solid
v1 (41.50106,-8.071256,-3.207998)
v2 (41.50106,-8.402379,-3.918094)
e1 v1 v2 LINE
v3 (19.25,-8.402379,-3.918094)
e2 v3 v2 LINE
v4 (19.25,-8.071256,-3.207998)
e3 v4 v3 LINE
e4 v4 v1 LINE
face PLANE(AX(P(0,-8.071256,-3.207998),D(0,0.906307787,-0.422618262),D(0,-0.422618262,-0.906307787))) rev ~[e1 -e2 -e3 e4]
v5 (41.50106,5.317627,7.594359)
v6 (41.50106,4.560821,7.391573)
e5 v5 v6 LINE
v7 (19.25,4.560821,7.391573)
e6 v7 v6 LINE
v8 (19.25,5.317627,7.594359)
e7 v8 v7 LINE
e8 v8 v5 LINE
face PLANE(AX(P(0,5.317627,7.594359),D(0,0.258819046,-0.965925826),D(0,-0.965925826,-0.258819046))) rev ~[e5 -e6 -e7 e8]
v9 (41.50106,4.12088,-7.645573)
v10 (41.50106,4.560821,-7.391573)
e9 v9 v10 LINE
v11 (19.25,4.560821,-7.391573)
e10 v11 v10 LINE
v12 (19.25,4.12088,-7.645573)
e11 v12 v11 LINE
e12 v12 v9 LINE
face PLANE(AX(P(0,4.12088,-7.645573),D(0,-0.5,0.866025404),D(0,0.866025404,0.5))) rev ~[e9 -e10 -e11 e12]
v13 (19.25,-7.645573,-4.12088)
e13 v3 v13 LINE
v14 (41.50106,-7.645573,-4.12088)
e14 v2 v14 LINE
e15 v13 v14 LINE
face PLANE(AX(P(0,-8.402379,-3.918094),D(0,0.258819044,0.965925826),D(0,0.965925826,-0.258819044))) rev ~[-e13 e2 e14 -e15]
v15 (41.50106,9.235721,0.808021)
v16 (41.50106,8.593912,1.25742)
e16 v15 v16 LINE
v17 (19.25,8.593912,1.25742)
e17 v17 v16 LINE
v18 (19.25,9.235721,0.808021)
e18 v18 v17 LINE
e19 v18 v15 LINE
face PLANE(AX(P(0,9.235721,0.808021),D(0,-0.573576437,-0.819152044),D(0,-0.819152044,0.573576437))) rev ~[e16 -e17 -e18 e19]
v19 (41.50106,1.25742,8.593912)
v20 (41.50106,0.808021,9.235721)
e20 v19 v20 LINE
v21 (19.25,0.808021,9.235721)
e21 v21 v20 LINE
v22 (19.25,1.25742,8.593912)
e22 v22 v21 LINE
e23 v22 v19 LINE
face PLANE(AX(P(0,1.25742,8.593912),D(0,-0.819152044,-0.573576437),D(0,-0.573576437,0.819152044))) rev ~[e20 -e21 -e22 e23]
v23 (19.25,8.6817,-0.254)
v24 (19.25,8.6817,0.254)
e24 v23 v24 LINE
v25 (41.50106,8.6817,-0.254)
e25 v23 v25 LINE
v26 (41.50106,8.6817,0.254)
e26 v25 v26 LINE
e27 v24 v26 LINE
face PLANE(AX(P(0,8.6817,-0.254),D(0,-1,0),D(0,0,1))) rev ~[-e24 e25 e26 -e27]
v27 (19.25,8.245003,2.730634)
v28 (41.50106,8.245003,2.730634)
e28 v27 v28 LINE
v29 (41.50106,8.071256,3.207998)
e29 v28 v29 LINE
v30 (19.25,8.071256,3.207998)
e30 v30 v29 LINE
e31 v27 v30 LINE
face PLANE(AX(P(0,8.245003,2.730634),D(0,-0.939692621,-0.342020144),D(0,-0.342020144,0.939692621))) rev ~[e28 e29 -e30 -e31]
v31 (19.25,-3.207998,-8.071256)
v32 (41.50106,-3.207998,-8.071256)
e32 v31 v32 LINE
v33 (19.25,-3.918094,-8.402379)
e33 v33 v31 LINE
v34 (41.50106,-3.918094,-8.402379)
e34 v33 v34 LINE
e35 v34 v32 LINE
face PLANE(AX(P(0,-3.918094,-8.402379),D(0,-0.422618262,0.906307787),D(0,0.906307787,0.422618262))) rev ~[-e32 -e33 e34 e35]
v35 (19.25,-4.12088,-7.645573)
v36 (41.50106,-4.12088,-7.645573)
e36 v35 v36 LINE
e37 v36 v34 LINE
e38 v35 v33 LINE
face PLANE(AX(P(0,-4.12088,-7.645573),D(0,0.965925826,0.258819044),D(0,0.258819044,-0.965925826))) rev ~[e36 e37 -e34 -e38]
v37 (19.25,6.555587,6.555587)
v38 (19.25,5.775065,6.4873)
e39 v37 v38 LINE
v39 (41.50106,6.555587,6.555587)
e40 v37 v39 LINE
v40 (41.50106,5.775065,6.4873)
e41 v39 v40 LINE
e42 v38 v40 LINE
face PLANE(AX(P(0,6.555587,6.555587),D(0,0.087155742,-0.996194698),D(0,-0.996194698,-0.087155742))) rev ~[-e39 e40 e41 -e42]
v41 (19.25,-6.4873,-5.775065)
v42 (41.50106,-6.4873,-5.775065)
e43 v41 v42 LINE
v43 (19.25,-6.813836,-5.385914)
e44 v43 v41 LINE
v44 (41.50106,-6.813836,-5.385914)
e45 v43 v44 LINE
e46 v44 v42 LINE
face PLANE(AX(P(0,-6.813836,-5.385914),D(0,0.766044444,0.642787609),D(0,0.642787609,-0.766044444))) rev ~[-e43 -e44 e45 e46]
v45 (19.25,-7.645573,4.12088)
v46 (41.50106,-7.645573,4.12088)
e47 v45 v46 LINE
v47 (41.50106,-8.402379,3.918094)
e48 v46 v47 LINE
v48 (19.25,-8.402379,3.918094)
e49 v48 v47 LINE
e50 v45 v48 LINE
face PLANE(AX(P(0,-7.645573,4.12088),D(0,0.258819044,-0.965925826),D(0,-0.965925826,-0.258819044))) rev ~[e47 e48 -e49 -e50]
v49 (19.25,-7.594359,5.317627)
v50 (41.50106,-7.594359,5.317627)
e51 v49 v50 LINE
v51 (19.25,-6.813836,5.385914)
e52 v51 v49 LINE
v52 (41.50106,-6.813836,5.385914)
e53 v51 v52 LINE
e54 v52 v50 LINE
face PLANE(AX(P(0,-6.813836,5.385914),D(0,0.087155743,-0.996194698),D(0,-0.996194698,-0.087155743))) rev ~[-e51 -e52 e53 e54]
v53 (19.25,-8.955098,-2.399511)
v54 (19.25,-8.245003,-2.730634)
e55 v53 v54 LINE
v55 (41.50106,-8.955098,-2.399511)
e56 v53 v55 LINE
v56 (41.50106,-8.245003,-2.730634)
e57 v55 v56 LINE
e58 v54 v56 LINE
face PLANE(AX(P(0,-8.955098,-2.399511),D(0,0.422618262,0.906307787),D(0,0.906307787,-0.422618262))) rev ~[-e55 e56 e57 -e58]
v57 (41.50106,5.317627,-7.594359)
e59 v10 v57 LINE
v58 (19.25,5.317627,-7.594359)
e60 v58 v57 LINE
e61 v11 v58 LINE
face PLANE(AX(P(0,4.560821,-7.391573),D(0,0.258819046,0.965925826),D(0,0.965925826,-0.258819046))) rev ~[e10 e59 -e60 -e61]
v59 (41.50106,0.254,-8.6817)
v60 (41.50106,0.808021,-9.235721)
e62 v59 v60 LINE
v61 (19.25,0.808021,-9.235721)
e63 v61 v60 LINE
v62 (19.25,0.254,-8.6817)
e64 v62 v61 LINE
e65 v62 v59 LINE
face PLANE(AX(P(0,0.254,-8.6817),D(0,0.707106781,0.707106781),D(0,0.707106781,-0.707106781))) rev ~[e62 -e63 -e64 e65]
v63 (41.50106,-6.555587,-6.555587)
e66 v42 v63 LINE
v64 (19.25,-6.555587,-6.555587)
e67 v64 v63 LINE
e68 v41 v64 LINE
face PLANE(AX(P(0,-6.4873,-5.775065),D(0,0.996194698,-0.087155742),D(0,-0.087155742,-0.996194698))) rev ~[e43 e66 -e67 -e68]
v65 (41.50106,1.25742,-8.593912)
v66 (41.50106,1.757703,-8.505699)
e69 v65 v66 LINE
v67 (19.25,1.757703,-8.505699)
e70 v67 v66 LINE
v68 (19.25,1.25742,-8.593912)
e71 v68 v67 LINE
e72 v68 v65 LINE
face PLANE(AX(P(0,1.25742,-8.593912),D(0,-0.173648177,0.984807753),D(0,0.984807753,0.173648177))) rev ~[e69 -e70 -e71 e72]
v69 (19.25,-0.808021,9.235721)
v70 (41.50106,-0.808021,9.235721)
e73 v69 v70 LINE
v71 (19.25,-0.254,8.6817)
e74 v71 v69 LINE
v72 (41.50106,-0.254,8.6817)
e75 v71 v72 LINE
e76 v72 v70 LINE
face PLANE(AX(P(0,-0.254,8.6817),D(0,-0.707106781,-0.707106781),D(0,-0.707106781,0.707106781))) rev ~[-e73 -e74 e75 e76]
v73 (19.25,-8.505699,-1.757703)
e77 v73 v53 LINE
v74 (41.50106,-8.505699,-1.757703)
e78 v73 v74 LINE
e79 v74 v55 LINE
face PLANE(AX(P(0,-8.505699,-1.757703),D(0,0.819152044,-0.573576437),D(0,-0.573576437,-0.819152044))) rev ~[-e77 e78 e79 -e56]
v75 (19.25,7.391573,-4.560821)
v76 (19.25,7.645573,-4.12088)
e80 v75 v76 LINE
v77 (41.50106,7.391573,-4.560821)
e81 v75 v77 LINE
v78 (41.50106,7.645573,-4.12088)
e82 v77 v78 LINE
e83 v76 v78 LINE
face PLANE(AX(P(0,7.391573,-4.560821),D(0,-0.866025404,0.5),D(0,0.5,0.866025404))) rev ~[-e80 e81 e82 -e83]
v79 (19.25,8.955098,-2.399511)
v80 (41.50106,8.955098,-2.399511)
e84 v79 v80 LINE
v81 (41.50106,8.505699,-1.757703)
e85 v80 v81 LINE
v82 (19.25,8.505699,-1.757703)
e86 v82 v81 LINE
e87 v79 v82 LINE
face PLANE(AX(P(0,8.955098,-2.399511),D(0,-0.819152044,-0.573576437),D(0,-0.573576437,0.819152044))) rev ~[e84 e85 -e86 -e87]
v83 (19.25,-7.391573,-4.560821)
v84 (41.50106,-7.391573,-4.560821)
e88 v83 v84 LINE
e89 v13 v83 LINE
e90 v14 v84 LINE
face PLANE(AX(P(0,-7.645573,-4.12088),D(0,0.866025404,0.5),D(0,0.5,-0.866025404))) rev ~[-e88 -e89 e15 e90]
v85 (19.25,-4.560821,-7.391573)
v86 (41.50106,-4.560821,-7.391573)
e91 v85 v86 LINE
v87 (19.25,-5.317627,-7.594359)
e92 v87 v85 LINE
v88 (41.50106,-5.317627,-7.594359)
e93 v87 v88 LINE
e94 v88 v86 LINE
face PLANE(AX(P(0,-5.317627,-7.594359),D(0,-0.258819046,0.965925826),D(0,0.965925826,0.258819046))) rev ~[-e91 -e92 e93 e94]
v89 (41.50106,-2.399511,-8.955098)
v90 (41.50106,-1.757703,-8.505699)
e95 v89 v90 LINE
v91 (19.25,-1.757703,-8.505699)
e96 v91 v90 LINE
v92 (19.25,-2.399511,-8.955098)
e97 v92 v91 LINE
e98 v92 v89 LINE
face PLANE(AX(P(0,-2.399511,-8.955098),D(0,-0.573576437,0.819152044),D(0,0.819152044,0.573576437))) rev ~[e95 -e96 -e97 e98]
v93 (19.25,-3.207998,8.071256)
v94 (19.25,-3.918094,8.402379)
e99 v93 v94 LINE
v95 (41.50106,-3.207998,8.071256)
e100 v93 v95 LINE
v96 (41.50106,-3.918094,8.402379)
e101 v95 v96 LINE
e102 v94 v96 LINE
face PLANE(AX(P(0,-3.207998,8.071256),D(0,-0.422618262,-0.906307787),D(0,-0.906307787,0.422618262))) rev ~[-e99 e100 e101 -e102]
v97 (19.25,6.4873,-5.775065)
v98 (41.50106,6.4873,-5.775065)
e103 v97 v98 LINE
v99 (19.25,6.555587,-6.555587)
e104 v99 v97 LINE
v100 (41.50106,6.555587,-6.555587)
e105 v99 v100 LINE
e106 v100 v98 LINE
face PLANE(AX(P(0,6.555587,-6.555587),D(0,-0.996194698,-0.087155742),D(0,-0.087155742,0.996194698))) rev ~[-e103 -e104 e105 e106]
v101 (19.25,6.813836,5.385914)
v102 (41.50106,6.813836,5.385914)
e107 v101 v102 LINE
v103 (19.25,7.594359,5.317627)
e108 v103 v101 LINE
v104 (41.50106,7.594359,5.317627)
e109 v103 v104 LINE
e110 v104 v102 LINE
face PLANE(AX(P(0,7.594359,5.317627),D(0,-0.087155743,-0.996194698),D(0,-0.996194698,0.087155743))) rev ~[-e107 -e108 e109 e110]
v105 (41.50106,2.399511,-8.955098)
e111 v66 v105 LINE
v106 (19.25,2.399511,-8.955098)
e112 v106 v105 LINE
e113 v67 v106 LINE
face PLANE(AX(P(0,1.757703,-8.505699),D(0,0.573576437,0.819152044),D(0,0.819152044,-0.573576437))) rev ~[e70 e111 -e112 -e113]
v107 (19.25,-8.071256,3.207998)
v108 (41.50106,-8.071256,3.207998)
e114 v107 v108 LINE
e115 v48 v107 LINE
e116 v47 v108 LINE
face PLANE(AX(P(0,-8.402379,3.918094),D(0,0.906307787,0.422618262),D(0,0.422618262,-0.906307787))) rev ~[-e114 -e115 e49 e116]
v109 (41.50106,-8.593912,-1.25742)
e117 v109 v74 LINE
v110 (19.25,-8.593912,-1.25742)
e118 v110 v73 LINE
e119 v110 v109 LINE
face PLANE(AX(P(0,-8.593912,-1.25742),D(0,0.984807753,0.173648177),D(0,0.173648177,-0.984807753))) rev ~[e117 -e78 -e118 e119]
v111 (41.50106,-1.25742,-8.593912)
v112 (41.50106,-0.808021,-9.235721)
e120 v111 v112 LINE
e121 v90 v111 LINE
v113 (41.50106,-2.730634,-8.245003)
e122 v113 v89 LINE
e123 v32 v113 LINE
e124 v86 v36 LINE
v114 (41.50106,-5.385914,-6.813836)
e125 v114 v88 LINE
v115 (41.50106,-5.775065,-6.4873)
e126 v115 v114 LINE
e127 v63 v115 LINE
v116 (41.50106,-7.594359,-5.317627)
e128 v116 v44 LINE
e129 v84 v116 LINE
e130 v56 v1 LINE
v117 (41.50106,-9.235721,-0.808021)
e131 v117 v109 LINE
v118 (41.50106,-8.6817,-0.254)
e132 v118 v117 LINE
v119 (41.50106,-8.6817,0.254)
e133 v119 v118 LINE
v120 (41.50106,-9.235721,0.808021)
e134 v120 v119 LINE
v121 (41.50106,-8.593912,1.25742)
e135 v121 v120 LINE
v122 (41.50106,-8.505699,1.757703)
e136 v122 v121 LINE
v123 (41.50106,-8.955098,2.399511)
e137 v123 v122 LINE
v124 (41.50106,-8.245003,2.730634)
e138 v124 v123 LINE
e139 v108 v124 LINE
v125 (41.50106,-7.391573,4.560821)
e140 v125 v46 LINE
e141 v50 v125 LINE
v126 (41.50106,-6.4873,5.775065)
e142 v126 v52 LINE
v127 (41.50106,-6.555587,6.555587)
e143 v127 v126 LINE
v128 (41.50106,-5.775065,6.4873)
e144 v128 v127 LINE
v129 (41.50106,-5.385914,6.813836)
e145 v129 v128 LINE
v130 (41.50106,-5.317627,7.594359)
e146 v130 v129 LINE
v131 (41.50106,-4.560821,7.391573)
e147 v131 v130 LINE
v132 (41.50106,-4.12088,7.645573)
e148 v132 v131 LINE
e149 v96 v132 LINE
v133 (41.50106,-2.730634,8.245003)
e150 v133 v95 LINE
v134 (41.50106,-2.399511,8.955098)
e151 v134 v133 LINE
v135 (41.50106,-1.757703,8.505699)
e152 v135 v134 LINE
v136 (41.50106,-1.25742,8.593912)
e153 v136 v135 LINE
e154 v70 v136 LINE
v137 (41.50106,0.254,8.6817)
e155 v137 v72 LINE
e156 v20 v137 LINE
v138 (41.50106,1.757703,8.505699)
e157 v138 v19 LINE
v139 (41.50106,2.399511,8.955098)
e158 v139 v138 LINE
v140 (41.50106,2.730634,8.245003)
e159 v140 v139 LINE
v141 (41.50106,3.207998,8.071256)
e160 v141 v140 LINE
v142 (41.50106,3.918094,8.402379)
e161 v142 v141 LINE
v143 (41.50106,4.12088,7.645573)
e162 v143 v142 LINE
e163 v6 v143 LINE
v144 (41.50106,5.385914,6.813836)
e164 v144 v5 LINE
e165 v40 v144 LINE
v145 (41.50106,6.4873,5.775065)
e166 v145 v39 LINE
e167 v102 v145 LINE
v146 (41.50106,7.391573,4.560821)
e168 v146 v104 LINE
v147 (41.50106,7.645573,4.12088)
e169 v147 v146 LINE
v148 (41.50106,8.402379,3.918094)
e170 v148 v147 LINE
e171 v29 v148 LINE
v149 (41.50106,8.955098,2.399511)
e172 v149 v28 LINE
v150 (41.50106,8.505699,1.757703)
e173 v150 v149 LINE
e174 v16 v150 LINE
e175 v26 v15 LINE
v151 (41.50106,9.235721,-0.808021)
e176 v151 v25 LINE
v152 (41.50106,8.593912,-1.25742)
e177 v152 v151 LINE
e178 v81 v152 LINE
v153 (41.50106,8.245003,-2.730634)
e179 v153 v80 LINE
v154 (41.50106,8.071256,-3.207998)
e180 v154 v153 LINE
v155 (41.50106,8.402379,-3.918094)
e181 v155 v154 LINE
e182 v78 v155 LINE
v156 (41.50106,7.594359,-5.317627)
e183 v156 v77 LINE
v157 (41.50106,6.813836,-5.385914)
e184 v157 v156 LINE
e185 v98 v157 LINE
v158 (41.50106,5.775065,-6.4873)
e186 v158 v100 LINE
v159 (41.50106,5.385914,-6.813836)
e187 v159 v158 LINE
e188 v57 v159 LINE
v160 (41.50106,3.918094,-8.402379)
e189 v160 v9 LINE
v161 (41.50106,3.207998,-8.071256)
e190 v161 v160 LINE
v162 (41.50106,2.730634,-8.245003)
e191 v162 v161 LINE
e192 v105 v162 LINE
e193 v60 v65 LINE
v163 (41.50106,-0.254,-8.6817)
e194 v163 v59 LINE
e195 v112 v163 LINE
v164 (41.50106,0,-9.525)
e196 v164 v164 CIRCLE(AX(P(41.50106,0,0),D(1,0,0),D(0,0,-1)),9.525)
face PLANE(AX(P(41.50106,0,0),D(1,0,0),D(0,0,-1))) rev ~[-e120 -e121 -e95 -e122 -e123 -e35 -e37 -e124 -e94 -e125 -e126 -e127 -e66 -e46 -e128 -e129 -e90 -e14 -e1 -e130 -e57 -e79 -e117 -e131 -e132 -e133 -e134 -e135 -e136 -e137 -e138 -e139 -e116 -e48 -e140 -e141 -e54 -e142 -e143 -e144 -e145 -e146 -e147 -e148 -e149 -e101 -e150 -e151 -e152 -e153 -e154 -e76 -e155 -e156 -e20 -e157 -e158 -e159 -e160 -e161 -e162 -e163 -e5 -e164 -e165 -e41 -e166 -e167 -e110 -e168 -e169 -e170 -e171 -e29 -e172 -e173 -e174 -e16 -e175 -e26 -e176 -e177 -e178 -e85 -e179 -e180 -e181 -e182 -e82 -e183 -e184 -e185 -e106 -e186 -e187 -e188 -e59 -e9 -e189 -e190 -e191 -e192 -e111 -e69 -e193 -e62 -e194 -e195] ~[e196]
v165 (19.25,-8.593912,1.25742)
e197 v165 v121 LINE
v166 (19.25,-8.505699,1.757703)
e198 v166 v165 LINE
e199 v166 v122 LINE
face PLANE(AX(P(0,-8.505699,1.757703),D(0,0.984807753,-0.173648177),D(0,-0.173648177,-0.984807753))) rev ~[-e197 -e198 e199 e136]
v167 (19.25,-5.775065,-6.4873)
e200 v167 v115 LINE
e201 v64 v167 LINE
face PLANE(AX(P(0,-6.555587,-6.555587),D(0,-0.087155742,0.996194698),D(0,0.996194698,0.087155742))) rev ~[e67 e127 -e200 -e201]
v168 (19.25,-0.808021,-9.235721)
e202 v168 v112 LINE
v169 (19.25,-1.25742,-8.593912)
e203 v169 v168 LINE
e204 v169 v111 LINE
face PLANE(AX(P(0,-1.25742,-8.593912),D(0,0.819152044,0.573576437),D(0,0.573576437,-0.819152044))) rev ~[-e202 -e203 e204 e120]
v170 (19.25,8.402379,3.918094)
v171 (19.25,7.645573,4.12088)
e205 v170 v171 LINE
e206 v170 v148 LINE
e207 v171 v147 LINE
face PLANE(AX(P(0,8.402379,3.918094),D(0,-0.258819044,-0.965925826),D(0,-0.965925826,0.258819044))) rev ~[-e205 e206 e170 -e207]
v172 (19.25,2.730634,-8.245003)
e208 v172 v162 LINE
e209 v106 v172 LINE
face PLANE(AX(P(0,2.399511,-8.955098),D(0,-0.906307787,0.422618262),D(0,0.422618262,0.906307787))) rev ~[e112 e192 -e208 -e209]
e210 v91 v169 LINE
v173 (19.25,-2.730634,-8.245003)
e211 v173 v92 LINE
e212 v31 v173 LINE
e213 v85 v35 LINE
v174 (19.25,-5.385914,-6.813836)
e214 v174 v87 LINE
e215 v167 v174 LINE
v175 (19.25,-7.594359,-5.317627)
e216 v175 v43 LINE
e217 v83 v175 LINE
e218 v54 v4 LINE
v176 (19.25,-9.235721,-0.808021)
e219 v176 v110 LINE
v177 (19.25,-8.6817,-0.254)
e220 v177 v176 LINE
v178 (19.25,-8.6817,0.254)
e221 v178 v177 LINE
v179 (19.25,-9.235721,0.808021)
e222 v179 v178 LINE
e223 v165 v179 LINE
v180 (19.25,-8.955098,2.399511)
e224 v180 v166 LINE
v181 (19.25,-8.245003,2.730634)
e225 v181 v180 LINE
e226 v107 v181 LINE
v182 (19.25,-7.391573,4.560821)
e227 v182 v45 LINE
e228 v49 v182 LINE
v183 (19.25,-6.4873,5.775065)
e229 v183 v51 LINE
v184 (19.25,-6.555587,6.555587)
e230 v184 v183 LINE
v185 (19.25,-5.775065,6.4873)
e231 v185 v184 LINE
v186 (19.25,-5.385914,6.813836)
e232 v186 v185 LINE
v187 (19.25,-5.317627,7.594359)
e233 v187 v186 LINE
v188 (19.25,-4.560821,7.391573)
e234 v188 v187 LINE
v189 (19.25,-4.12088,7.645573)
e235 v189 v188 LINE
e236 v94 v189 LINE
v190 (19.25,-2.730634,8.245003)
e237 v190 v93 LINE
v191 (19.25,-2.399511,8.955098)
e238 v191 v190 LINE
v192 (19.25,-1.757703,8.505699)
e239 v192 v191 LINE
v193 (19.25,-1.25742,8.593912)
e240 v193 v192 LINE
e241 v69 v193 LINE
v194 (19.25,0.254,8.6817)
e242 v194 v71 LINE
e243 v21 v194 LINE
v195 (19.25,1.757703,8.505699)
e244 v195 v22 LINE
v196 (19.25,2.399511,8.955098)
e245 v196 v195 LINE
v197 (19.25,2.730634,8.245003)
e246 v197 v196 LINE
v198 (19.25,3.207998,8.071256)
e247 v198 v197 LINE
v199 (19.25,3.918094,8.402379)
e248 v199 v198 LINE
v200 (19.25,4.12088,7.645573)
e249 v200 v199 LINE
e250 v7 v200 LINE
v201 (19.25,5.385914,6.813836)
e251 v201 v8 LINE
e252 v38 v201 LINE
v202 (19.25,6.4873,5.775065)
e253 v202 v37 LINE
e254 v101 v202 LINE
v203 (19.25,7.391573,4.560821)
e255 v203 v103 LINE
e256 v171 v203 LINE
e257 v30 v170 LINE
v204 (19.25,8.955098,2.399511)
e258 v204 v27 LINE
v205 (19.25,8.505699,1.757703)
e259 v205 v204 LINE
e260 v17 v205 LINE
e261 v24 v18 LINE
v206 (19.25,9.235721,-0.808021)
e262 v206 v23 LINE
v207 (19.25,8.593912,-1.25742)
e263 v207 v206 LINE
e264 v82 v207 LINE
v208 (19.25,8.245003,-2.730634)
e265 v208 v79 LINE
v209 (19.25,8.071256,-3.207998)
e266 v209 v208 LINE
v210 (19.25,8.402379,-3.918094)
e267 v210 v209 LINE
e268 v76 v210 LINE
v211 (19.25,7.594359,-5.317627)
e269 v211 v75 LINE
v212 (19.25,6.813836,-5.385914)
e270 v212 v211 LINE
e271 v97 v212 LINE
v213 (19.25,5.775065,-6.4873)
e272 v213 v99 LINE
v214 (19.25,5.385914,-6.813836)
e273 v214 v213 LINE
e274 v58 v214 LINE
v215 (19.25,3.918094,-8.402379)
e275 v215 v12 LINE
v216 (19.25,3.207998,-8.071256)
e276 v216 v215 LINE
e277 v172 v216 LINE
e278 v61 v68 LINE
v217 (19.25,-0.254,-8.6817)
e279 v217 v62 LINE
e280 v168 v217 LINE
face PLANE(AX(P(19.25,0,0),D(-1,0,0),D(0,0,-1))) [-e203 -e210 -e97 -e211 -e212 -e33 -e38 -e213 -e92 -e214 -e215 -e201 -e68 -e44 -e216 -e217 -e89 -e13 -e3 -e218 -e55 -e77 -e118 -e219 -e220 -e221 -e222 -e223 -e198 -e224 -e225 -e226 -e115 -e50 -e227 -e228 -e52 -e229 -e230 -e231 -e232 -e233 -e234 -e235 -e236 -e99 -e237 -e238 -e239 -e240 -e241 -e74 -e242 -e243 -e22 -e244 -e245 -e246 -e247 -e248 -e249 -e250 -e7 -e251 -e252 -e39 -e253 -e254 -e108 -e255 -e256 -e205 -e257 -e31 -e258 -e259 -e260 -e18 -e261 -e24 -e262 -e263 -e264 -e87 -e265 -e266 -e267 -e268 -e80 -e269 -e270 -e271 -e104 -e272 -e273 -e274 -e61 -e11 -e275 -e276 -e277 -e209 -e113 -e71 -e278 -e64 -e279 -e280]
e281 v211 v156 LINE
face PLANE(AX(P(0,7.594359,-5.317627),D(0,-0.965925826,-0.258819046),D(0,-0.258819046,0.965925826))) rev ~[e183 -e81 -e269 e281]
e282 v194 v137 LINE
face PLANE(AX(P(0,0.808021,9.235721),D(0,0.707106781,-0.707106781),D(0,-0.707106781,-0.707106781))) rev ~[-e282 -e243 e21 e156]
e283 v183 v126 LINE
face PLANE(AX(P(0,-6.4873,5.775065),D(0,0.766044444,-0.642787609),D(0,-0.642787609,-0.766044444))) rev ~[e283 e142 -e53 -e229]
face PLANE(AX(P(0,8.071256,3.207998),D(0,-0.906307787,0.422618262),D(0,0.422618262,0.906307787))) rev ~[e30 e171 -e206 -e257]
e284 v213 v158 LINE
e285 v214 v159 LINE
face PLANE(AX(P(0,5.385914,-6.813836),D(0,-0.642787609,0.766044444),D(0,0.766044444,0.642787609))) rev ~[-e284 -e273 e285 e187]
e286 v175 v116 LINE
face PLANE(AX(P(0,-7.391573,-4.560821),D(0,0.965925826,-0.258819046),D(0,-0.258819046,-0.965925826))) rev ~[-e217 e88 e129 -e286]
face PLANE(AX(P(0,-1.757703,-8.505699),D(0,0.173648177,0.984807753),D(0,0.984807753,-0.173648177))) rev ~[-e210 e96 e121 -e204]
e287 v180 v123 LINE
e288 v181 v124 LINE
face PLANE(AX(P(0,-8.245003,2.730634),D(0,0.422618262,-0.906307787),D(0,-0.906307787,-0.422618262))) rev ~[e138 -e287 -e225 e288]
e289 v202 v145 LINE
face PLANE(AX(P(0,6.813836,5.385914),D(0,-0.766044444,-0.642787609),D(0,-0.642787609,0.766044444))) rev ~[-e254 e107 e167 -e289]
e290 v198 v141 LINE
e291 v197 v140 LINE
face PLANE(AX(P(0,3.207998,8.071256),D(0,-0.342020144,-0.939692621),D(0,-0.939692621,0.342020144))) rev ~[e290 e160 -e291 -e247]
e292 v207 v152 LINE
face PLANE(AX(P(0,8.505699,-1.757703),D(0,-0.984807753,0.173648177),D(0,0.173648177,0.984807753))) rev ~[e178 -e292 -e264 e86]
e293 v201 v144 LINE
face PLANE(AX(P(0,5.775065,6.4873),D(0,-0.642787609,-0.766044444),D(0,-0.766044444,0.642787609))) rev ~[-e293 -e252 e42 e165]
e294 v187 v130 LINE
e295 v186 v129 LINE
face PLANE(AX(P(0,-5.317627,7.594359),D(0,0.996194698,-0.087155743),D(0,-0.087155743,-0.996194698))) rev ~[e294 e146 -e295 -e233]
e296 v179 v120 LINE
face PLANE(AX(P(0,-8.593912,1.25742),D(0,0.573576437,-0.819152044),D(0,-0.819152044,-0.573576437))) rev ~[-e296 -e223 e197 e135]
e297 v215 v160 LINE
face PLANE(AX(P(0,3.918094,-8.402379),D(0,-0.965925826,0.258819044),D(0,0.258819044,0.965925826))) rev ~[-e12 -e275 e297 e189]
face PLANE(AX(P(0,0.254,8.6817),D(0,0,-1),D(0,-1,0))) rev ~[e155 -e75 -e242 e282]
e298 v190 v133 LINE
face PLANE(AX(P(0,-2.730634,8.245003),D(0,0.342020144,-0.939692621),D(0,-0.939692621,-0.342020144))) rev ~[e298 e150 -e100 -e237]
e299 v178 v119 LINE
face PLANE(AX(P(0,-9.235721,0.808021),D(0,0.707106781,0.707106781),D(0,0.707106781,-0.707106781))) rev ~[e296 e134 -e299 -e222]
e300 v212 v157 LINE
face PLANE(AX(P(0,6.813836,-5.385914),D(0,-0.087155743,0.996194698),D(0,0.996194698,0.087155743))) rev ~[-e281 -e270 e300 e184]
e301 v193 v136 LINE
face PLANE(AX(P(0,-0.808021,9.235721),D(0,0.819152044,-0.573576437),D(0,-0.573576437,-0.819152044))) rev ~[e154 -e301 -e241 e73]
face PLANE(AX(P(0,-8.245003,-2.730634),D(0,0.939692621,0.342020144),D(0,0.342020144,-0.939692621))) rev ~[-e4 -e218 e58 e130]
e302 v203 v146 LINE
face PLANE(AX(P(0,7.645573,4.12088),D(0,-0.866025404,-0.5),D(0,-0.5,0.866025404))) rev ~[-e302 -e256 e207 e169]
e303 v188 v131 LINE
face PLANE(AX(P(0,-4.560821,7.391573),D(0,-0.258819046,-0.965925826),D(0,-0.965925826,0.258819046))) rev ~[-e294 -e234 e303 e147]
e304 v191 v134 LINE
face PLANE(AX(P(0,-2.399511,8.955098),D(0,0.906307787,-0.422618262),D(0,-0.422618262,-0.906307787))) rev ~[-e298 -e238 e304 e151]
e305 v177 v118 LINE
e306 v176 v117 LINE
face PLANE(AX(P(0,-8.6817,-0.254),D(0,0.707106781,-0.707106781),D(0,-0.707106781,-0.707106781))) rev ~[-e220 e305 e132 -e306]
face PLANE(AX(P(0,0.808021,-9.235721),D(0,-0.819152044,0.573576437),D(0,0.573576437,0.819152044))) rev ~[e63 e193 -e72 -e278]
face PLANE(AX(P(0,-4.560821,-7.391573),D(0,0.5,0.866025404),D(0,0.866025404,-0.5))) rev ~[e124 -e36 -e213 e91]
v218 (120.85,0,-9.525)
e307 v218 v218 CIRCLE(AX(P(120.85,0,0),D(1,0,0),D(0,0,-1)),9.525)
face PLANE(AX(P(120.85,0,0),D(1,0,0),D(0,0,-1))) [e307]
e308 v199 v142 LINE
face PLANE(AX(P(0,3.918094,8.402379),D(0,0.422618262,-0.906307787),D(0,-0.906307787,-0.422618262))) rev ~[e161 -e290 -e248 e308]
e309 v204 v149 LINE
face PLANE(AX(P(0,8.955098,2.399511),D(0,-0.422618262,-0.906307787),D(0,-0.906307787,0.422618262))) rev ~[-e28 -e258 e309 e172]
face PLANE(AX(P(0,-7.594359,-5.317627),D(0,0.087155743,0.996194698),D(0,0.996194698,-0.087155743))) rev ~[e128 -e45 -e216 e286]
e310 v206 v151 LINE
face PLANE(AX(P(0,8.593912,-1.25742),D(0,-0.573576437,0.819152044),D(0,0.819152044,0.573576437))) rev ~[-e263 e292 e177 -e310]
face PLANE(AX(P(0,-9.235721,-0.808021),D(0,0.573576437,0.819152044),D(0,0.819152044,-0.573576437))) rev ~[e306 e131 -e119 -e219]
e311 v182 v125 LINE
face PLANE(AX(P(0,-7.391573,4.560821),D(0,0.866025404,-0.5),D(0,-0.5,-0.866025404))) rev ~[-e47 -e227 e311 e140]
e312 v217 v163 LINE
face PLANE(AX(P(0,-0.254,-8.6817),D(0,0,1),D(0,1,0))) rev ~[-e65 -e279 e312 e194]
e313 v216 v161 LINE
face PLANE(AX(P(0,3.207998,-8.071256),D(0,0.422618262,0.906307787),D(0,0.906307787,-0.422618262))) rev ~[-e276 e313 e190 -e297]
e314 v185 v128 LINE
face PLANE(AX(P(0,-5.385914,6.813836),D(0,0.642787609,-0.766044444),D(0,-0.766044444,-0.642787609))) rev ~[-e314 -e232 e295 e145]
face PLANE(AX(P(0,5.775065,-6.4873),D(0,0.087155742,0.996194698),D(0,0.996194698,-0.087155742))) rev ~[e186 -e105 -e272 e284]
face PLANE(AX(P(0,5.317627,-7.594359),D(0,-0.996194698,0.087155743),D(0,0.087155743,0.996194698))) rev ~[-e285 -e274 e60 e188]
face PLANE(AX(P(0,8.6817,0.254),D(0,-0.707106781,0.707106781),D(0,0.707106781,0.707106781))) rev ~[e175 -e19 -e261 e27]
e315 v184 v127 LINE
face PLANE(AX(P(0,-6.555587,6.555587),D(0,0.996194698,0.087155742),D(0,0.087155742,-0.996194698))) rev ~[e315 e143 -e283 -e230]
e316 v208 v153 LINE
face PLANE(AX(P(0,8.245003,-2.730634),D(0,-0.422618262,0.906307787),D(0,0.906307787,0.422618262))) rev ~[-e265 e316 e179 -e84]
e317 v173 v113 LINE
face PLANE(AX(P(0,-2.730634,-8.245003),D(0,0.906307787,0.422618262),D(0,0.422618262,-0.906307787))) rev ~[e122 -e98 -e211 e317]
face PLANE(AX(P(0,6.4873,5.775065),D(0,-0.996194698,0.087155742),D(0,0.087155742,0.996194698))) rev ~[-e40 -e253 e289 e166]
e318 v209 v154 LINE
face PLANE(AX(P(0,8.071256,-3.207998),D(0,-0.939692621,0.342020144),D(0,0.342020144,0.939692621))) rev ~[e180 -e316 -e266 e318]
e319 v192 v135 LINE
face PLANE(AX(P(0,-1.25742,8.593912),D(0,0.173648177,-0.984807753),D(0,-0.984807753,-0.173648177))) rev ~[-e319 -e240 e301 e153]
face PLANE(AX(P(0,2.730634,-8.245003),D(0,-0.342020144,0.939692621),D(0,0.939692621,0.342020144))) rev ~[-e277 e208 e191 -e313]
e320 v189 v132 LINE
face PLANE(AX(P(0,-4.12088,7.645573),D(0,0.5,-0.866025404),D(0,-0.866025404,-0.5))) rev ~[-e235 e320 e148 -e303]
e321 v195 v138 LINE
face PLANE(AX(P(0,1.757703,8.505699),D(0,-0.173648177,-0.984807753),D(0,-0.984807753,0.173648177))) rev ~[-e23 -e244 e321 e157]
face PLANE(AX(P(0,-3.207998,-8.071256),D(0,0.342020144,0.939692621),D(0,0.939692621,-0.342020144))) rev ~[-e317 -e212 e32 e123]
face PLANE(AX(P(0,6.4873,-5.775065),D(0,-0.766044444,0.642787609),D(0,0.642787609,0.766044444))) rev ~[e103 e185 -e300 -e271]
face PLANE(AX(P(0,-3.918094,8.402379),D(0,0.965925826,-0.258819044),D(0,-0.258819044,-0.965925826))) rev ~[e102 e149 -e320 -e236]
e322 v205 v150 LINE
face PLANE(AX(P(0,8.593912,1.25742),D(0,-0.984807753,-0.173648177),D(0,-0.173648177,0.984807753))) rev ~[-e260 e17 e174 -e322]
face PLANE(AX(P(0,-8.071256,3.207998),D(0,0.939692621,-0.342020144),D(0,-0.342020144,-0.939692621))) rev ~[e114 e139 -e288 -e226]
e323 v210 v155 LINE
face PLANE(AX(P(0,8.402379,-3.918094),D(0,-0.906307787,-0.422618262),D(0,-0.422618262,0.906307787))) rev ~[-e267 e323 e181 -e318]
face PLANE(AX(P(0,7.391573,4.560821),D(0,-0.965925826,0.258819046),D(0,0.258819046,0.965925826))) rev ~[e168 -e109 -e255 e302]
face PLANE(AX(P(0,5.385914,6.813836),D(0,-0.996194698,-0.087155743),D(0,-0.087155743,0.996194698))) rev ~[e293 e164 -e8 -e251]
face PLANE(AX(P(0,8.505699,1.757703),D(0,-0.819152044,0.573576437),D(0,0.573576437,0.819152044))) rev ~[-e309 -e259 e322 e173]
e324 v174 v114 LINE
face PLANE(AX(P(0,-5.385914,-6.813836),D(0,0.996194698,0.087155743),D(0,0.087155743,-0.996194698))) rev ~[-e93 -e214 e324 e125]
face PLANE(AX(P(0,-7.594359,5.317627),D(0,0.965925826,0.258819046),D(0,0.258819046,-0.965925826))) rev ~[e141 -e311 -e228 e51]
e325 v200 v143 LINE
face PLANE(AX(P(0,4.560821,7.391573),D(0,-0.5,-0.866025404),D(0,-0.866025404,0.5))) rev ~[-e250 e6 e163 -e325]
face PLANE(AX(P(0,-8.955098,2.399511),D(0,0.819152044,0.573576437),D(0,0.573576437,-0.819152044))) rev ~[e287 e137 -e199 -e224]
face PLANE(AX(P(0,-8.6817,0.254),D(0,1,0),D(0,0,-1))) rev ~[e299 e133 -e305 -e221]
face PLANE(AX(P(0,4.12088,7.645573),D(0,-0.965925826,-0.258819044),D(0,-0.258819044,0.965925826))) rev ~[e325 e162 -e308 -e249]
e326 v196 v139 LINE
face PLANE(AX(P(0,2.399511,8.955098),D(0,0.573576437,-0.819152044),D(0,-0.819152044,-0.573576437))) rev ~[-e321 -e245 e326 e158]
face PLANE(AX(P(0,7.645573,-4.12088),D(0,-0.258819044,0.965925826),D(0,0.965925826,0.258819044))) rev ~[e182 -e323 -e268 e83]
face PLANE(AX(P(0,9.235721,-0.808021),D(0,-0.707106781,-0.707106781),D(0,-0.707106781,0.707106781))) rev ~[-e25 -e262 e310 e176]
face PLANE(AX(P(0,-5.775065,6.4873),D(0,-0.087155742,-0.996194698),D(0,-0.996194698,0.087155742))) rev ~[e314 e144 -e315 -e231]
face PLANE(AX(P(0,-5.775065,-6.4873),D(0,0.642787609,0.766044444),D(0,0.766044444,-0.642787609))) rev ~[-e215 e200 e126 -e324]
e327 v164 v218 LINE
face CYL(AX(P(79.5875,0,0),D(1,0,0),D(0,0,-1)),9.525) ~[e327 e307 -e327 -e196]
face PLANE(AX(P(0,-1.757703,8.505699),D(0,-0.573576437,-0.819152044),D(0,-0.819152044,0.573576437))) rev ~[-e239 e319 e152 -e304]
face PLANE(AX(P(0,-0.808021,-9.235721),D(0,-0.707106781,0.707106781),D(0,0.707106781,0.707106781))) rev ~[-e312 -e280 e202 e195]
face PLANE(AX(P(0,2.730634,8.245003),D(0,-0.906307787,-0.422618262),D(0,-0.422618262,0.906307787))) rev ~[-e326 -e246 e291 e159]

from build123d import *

# Parameters (mm, degrees)
SKETCH1_W           = 120.675
SKETCH1_H           = 1.5875
SKETCH6_R           = 7.9375
BOSS_EXTRUDE1_DEPTH = 101.6
SKETCH7_R           = 23.308025585
CUT_EXTRUDE3_DEPTH  = 19.075
SKETCH4_R           = 12.7
CUT_EXTRUDE4_DEPTH  = 41.50106


with BuildPart() as part:
    # Sketch1 → Revolve1 (revolve)
    with BuildSketch(Plane(origin=(0, 0, 0), x_dir=(1, 0, 0), z_dir=(0, 1, 0))):
        with Locations((79.5875, 8.73125)):
            Rectangle(SKETCH1_W, SKETCH1_H)
    revolve(axis=Axis((157.324, 0, 0), (-1, 0, 0)))

    # Sketch6 → Boss-Extrude1 (add)
    with BuildSketch(Plane.ZY.offset(-19.25)):
        with Locations(Location((0, 0, 0), (0, 0, 180))):
            Circle(SKETCH6_R)
    extrude(amount=-BOSS_EXTRUDE1_DEPTH)

    # Sketch7 → Cut-Extrude3 (cut)
    with BuildSketch(Plane(origin=(120.85, 0, 0), x_dir=(0, 0, -1), z_dir=(1, 0, 0))):
        Circle(SKETCH7_R)
    extrude(amount=CUT_EXTRUDE3_DEPTH, mode=Mode.SUBTRACT)

    # Sketch4 → Cut-Extrude4 (cut)
    with BuildSketch(Plane(origin=(0, 0, 0), x_dir=(0, 0, -1), z_dir=(1, 0, 0))):
        Circle(SKETCH4_R)
        Polygon((-9.235721046, 0.808020891), (-8.681700155, 0.254), (-8.681700155, -0.254), (-9.235721046, -0.808020891), (-8.593912259, -1.257420242), (-8.505698985, -1.75770258), (-8.955098336, -2.399511367), (-8.245002688, -2.730634406), (-8.071256455, -3.207998257), (-8.402379494, -3.918093905), (-7.645572882, -4.120879625), (-7.391572882, -4.56082053), (-7.594358603, -5.317627141), (-6.813836213, -5.385914002), (-6.487300108, -5.775064579), (-6.555586968, -6.555586968), (-5.775064579, -6.487300108), (-5.385914002, -6.813836213), (-5.317627141, -7.594358603), (-4.56082053, -7.391572882), (-4.120879625, -7.645572882), (-3.918093905, -8.402379494), (-3.207998257, -8.071256455), (-2.730634406, -8.245002688), (-2.399511367, -8.955098336), (-1.75770258, -8.505698985), (-1.257420242, -8.593912259), (-0.808020891, -9.235721046), (-0.254, -8.681700155), (0.254, -8.681700155), (0.808020891, -9.235721046), (1.257420242, -8.593912259), (1.75770258, -8.505698985), (2.399511367, -8.955098336), (2.730634406, -8.245002688), (3.207998257, -8.071256455), (3.918093905, -8.402379494), (4.120879625, -7.645572882), (4.56082053, -7.391572882), (5.317627141, -7.594358603), (5.385914002, -6.813836213), (5.775064579, -6.487300108), (6.555586968, -6.555586968), (6.487300108, -5.775064579), (6.813836213, -5.385914002), (7.594358603, -5.317627141), (7.391572882, -4.56082053), (7.645572882, -4.120879625), (8.402379494, -3.918093905), (8.071256455, -3.207998257), (8.245002688, -2.730634406), (8.955098336, -2.399511367), (8.505698985, -1.75770258), (8.593912259, -1.257420242), (9.235721046, -0.808020891), (8.681700155, -0.254), (8.681700155, 0.254), (9.235721046, 0.808020891), (8.593912259, 1.257420242), (8.505698985, 1.75770258), (8.955098336, 2.399511367), (8.245002688, 2.730634406), (8.071256455, 3.207998257), (8.402379494, 3.918093905), (7.645572882, 4.120879625), (7.391572882, 4.56082053), (7.594358603, 5.317627141), (6.813836213, 5.385914002), (6.487300108, 5.775064579), (6.555586968, 6.555586968), (5.775064579, 6.487300108), (5.385914002, 6.813836213), (5.317627141, 7.594358603), (4.56082053, 7.391572882), (4.120879625, 7.645572882), (3.918093905, 8.402379494), (3.207998257, 8.071256455), (2.730634406, 8.245002688), (2.399511367, 8.955098336), (1.75770258, 8.505698985), (1.257420242, 8.593912259), (0.808020891, 9.235721046), (0.254, 8.681700155), (-0.254, 8.681700155), (-0.808020891, 9.235721046), (-1.257420242, 8.593912259), (-1.75770258, 8.505698985), (-2.399511367, 8.955098336), (-2.730634406, 8.245002688), (-3.207998257, 8.071256455), (-3.918093905, 8.402379494), (-4.120879625, 7.645572882), (-4.56082053, 7.391572882), (-5.317627141, 7.594358603), (-5.385914002, 6.813836213), (-5.775064579, 6.487300108), (-6.555586968, 6.555586968), (-6.487300108, 5.775064579), (-6.813836213, 5.385914002), (-7.594358603, 5.317627141), (-7.391572882, 4.56082053), (-7.645572882, 4.120879625), (-8.402379494, 3.918093905), (-8.071256455, 3.207998257), (-8.245002688, 2.730634406), (-8.955098336, 2.399511367), (-8.505698985, 1.75770258), (-8.593912259, 1.257420242), align=None, mode=Mode.SUBTRACT)
    extrude(amount=CUT_EXTRUDE4_DEPTH, mode=Mode.SUBTRACT)


solid = part.part
